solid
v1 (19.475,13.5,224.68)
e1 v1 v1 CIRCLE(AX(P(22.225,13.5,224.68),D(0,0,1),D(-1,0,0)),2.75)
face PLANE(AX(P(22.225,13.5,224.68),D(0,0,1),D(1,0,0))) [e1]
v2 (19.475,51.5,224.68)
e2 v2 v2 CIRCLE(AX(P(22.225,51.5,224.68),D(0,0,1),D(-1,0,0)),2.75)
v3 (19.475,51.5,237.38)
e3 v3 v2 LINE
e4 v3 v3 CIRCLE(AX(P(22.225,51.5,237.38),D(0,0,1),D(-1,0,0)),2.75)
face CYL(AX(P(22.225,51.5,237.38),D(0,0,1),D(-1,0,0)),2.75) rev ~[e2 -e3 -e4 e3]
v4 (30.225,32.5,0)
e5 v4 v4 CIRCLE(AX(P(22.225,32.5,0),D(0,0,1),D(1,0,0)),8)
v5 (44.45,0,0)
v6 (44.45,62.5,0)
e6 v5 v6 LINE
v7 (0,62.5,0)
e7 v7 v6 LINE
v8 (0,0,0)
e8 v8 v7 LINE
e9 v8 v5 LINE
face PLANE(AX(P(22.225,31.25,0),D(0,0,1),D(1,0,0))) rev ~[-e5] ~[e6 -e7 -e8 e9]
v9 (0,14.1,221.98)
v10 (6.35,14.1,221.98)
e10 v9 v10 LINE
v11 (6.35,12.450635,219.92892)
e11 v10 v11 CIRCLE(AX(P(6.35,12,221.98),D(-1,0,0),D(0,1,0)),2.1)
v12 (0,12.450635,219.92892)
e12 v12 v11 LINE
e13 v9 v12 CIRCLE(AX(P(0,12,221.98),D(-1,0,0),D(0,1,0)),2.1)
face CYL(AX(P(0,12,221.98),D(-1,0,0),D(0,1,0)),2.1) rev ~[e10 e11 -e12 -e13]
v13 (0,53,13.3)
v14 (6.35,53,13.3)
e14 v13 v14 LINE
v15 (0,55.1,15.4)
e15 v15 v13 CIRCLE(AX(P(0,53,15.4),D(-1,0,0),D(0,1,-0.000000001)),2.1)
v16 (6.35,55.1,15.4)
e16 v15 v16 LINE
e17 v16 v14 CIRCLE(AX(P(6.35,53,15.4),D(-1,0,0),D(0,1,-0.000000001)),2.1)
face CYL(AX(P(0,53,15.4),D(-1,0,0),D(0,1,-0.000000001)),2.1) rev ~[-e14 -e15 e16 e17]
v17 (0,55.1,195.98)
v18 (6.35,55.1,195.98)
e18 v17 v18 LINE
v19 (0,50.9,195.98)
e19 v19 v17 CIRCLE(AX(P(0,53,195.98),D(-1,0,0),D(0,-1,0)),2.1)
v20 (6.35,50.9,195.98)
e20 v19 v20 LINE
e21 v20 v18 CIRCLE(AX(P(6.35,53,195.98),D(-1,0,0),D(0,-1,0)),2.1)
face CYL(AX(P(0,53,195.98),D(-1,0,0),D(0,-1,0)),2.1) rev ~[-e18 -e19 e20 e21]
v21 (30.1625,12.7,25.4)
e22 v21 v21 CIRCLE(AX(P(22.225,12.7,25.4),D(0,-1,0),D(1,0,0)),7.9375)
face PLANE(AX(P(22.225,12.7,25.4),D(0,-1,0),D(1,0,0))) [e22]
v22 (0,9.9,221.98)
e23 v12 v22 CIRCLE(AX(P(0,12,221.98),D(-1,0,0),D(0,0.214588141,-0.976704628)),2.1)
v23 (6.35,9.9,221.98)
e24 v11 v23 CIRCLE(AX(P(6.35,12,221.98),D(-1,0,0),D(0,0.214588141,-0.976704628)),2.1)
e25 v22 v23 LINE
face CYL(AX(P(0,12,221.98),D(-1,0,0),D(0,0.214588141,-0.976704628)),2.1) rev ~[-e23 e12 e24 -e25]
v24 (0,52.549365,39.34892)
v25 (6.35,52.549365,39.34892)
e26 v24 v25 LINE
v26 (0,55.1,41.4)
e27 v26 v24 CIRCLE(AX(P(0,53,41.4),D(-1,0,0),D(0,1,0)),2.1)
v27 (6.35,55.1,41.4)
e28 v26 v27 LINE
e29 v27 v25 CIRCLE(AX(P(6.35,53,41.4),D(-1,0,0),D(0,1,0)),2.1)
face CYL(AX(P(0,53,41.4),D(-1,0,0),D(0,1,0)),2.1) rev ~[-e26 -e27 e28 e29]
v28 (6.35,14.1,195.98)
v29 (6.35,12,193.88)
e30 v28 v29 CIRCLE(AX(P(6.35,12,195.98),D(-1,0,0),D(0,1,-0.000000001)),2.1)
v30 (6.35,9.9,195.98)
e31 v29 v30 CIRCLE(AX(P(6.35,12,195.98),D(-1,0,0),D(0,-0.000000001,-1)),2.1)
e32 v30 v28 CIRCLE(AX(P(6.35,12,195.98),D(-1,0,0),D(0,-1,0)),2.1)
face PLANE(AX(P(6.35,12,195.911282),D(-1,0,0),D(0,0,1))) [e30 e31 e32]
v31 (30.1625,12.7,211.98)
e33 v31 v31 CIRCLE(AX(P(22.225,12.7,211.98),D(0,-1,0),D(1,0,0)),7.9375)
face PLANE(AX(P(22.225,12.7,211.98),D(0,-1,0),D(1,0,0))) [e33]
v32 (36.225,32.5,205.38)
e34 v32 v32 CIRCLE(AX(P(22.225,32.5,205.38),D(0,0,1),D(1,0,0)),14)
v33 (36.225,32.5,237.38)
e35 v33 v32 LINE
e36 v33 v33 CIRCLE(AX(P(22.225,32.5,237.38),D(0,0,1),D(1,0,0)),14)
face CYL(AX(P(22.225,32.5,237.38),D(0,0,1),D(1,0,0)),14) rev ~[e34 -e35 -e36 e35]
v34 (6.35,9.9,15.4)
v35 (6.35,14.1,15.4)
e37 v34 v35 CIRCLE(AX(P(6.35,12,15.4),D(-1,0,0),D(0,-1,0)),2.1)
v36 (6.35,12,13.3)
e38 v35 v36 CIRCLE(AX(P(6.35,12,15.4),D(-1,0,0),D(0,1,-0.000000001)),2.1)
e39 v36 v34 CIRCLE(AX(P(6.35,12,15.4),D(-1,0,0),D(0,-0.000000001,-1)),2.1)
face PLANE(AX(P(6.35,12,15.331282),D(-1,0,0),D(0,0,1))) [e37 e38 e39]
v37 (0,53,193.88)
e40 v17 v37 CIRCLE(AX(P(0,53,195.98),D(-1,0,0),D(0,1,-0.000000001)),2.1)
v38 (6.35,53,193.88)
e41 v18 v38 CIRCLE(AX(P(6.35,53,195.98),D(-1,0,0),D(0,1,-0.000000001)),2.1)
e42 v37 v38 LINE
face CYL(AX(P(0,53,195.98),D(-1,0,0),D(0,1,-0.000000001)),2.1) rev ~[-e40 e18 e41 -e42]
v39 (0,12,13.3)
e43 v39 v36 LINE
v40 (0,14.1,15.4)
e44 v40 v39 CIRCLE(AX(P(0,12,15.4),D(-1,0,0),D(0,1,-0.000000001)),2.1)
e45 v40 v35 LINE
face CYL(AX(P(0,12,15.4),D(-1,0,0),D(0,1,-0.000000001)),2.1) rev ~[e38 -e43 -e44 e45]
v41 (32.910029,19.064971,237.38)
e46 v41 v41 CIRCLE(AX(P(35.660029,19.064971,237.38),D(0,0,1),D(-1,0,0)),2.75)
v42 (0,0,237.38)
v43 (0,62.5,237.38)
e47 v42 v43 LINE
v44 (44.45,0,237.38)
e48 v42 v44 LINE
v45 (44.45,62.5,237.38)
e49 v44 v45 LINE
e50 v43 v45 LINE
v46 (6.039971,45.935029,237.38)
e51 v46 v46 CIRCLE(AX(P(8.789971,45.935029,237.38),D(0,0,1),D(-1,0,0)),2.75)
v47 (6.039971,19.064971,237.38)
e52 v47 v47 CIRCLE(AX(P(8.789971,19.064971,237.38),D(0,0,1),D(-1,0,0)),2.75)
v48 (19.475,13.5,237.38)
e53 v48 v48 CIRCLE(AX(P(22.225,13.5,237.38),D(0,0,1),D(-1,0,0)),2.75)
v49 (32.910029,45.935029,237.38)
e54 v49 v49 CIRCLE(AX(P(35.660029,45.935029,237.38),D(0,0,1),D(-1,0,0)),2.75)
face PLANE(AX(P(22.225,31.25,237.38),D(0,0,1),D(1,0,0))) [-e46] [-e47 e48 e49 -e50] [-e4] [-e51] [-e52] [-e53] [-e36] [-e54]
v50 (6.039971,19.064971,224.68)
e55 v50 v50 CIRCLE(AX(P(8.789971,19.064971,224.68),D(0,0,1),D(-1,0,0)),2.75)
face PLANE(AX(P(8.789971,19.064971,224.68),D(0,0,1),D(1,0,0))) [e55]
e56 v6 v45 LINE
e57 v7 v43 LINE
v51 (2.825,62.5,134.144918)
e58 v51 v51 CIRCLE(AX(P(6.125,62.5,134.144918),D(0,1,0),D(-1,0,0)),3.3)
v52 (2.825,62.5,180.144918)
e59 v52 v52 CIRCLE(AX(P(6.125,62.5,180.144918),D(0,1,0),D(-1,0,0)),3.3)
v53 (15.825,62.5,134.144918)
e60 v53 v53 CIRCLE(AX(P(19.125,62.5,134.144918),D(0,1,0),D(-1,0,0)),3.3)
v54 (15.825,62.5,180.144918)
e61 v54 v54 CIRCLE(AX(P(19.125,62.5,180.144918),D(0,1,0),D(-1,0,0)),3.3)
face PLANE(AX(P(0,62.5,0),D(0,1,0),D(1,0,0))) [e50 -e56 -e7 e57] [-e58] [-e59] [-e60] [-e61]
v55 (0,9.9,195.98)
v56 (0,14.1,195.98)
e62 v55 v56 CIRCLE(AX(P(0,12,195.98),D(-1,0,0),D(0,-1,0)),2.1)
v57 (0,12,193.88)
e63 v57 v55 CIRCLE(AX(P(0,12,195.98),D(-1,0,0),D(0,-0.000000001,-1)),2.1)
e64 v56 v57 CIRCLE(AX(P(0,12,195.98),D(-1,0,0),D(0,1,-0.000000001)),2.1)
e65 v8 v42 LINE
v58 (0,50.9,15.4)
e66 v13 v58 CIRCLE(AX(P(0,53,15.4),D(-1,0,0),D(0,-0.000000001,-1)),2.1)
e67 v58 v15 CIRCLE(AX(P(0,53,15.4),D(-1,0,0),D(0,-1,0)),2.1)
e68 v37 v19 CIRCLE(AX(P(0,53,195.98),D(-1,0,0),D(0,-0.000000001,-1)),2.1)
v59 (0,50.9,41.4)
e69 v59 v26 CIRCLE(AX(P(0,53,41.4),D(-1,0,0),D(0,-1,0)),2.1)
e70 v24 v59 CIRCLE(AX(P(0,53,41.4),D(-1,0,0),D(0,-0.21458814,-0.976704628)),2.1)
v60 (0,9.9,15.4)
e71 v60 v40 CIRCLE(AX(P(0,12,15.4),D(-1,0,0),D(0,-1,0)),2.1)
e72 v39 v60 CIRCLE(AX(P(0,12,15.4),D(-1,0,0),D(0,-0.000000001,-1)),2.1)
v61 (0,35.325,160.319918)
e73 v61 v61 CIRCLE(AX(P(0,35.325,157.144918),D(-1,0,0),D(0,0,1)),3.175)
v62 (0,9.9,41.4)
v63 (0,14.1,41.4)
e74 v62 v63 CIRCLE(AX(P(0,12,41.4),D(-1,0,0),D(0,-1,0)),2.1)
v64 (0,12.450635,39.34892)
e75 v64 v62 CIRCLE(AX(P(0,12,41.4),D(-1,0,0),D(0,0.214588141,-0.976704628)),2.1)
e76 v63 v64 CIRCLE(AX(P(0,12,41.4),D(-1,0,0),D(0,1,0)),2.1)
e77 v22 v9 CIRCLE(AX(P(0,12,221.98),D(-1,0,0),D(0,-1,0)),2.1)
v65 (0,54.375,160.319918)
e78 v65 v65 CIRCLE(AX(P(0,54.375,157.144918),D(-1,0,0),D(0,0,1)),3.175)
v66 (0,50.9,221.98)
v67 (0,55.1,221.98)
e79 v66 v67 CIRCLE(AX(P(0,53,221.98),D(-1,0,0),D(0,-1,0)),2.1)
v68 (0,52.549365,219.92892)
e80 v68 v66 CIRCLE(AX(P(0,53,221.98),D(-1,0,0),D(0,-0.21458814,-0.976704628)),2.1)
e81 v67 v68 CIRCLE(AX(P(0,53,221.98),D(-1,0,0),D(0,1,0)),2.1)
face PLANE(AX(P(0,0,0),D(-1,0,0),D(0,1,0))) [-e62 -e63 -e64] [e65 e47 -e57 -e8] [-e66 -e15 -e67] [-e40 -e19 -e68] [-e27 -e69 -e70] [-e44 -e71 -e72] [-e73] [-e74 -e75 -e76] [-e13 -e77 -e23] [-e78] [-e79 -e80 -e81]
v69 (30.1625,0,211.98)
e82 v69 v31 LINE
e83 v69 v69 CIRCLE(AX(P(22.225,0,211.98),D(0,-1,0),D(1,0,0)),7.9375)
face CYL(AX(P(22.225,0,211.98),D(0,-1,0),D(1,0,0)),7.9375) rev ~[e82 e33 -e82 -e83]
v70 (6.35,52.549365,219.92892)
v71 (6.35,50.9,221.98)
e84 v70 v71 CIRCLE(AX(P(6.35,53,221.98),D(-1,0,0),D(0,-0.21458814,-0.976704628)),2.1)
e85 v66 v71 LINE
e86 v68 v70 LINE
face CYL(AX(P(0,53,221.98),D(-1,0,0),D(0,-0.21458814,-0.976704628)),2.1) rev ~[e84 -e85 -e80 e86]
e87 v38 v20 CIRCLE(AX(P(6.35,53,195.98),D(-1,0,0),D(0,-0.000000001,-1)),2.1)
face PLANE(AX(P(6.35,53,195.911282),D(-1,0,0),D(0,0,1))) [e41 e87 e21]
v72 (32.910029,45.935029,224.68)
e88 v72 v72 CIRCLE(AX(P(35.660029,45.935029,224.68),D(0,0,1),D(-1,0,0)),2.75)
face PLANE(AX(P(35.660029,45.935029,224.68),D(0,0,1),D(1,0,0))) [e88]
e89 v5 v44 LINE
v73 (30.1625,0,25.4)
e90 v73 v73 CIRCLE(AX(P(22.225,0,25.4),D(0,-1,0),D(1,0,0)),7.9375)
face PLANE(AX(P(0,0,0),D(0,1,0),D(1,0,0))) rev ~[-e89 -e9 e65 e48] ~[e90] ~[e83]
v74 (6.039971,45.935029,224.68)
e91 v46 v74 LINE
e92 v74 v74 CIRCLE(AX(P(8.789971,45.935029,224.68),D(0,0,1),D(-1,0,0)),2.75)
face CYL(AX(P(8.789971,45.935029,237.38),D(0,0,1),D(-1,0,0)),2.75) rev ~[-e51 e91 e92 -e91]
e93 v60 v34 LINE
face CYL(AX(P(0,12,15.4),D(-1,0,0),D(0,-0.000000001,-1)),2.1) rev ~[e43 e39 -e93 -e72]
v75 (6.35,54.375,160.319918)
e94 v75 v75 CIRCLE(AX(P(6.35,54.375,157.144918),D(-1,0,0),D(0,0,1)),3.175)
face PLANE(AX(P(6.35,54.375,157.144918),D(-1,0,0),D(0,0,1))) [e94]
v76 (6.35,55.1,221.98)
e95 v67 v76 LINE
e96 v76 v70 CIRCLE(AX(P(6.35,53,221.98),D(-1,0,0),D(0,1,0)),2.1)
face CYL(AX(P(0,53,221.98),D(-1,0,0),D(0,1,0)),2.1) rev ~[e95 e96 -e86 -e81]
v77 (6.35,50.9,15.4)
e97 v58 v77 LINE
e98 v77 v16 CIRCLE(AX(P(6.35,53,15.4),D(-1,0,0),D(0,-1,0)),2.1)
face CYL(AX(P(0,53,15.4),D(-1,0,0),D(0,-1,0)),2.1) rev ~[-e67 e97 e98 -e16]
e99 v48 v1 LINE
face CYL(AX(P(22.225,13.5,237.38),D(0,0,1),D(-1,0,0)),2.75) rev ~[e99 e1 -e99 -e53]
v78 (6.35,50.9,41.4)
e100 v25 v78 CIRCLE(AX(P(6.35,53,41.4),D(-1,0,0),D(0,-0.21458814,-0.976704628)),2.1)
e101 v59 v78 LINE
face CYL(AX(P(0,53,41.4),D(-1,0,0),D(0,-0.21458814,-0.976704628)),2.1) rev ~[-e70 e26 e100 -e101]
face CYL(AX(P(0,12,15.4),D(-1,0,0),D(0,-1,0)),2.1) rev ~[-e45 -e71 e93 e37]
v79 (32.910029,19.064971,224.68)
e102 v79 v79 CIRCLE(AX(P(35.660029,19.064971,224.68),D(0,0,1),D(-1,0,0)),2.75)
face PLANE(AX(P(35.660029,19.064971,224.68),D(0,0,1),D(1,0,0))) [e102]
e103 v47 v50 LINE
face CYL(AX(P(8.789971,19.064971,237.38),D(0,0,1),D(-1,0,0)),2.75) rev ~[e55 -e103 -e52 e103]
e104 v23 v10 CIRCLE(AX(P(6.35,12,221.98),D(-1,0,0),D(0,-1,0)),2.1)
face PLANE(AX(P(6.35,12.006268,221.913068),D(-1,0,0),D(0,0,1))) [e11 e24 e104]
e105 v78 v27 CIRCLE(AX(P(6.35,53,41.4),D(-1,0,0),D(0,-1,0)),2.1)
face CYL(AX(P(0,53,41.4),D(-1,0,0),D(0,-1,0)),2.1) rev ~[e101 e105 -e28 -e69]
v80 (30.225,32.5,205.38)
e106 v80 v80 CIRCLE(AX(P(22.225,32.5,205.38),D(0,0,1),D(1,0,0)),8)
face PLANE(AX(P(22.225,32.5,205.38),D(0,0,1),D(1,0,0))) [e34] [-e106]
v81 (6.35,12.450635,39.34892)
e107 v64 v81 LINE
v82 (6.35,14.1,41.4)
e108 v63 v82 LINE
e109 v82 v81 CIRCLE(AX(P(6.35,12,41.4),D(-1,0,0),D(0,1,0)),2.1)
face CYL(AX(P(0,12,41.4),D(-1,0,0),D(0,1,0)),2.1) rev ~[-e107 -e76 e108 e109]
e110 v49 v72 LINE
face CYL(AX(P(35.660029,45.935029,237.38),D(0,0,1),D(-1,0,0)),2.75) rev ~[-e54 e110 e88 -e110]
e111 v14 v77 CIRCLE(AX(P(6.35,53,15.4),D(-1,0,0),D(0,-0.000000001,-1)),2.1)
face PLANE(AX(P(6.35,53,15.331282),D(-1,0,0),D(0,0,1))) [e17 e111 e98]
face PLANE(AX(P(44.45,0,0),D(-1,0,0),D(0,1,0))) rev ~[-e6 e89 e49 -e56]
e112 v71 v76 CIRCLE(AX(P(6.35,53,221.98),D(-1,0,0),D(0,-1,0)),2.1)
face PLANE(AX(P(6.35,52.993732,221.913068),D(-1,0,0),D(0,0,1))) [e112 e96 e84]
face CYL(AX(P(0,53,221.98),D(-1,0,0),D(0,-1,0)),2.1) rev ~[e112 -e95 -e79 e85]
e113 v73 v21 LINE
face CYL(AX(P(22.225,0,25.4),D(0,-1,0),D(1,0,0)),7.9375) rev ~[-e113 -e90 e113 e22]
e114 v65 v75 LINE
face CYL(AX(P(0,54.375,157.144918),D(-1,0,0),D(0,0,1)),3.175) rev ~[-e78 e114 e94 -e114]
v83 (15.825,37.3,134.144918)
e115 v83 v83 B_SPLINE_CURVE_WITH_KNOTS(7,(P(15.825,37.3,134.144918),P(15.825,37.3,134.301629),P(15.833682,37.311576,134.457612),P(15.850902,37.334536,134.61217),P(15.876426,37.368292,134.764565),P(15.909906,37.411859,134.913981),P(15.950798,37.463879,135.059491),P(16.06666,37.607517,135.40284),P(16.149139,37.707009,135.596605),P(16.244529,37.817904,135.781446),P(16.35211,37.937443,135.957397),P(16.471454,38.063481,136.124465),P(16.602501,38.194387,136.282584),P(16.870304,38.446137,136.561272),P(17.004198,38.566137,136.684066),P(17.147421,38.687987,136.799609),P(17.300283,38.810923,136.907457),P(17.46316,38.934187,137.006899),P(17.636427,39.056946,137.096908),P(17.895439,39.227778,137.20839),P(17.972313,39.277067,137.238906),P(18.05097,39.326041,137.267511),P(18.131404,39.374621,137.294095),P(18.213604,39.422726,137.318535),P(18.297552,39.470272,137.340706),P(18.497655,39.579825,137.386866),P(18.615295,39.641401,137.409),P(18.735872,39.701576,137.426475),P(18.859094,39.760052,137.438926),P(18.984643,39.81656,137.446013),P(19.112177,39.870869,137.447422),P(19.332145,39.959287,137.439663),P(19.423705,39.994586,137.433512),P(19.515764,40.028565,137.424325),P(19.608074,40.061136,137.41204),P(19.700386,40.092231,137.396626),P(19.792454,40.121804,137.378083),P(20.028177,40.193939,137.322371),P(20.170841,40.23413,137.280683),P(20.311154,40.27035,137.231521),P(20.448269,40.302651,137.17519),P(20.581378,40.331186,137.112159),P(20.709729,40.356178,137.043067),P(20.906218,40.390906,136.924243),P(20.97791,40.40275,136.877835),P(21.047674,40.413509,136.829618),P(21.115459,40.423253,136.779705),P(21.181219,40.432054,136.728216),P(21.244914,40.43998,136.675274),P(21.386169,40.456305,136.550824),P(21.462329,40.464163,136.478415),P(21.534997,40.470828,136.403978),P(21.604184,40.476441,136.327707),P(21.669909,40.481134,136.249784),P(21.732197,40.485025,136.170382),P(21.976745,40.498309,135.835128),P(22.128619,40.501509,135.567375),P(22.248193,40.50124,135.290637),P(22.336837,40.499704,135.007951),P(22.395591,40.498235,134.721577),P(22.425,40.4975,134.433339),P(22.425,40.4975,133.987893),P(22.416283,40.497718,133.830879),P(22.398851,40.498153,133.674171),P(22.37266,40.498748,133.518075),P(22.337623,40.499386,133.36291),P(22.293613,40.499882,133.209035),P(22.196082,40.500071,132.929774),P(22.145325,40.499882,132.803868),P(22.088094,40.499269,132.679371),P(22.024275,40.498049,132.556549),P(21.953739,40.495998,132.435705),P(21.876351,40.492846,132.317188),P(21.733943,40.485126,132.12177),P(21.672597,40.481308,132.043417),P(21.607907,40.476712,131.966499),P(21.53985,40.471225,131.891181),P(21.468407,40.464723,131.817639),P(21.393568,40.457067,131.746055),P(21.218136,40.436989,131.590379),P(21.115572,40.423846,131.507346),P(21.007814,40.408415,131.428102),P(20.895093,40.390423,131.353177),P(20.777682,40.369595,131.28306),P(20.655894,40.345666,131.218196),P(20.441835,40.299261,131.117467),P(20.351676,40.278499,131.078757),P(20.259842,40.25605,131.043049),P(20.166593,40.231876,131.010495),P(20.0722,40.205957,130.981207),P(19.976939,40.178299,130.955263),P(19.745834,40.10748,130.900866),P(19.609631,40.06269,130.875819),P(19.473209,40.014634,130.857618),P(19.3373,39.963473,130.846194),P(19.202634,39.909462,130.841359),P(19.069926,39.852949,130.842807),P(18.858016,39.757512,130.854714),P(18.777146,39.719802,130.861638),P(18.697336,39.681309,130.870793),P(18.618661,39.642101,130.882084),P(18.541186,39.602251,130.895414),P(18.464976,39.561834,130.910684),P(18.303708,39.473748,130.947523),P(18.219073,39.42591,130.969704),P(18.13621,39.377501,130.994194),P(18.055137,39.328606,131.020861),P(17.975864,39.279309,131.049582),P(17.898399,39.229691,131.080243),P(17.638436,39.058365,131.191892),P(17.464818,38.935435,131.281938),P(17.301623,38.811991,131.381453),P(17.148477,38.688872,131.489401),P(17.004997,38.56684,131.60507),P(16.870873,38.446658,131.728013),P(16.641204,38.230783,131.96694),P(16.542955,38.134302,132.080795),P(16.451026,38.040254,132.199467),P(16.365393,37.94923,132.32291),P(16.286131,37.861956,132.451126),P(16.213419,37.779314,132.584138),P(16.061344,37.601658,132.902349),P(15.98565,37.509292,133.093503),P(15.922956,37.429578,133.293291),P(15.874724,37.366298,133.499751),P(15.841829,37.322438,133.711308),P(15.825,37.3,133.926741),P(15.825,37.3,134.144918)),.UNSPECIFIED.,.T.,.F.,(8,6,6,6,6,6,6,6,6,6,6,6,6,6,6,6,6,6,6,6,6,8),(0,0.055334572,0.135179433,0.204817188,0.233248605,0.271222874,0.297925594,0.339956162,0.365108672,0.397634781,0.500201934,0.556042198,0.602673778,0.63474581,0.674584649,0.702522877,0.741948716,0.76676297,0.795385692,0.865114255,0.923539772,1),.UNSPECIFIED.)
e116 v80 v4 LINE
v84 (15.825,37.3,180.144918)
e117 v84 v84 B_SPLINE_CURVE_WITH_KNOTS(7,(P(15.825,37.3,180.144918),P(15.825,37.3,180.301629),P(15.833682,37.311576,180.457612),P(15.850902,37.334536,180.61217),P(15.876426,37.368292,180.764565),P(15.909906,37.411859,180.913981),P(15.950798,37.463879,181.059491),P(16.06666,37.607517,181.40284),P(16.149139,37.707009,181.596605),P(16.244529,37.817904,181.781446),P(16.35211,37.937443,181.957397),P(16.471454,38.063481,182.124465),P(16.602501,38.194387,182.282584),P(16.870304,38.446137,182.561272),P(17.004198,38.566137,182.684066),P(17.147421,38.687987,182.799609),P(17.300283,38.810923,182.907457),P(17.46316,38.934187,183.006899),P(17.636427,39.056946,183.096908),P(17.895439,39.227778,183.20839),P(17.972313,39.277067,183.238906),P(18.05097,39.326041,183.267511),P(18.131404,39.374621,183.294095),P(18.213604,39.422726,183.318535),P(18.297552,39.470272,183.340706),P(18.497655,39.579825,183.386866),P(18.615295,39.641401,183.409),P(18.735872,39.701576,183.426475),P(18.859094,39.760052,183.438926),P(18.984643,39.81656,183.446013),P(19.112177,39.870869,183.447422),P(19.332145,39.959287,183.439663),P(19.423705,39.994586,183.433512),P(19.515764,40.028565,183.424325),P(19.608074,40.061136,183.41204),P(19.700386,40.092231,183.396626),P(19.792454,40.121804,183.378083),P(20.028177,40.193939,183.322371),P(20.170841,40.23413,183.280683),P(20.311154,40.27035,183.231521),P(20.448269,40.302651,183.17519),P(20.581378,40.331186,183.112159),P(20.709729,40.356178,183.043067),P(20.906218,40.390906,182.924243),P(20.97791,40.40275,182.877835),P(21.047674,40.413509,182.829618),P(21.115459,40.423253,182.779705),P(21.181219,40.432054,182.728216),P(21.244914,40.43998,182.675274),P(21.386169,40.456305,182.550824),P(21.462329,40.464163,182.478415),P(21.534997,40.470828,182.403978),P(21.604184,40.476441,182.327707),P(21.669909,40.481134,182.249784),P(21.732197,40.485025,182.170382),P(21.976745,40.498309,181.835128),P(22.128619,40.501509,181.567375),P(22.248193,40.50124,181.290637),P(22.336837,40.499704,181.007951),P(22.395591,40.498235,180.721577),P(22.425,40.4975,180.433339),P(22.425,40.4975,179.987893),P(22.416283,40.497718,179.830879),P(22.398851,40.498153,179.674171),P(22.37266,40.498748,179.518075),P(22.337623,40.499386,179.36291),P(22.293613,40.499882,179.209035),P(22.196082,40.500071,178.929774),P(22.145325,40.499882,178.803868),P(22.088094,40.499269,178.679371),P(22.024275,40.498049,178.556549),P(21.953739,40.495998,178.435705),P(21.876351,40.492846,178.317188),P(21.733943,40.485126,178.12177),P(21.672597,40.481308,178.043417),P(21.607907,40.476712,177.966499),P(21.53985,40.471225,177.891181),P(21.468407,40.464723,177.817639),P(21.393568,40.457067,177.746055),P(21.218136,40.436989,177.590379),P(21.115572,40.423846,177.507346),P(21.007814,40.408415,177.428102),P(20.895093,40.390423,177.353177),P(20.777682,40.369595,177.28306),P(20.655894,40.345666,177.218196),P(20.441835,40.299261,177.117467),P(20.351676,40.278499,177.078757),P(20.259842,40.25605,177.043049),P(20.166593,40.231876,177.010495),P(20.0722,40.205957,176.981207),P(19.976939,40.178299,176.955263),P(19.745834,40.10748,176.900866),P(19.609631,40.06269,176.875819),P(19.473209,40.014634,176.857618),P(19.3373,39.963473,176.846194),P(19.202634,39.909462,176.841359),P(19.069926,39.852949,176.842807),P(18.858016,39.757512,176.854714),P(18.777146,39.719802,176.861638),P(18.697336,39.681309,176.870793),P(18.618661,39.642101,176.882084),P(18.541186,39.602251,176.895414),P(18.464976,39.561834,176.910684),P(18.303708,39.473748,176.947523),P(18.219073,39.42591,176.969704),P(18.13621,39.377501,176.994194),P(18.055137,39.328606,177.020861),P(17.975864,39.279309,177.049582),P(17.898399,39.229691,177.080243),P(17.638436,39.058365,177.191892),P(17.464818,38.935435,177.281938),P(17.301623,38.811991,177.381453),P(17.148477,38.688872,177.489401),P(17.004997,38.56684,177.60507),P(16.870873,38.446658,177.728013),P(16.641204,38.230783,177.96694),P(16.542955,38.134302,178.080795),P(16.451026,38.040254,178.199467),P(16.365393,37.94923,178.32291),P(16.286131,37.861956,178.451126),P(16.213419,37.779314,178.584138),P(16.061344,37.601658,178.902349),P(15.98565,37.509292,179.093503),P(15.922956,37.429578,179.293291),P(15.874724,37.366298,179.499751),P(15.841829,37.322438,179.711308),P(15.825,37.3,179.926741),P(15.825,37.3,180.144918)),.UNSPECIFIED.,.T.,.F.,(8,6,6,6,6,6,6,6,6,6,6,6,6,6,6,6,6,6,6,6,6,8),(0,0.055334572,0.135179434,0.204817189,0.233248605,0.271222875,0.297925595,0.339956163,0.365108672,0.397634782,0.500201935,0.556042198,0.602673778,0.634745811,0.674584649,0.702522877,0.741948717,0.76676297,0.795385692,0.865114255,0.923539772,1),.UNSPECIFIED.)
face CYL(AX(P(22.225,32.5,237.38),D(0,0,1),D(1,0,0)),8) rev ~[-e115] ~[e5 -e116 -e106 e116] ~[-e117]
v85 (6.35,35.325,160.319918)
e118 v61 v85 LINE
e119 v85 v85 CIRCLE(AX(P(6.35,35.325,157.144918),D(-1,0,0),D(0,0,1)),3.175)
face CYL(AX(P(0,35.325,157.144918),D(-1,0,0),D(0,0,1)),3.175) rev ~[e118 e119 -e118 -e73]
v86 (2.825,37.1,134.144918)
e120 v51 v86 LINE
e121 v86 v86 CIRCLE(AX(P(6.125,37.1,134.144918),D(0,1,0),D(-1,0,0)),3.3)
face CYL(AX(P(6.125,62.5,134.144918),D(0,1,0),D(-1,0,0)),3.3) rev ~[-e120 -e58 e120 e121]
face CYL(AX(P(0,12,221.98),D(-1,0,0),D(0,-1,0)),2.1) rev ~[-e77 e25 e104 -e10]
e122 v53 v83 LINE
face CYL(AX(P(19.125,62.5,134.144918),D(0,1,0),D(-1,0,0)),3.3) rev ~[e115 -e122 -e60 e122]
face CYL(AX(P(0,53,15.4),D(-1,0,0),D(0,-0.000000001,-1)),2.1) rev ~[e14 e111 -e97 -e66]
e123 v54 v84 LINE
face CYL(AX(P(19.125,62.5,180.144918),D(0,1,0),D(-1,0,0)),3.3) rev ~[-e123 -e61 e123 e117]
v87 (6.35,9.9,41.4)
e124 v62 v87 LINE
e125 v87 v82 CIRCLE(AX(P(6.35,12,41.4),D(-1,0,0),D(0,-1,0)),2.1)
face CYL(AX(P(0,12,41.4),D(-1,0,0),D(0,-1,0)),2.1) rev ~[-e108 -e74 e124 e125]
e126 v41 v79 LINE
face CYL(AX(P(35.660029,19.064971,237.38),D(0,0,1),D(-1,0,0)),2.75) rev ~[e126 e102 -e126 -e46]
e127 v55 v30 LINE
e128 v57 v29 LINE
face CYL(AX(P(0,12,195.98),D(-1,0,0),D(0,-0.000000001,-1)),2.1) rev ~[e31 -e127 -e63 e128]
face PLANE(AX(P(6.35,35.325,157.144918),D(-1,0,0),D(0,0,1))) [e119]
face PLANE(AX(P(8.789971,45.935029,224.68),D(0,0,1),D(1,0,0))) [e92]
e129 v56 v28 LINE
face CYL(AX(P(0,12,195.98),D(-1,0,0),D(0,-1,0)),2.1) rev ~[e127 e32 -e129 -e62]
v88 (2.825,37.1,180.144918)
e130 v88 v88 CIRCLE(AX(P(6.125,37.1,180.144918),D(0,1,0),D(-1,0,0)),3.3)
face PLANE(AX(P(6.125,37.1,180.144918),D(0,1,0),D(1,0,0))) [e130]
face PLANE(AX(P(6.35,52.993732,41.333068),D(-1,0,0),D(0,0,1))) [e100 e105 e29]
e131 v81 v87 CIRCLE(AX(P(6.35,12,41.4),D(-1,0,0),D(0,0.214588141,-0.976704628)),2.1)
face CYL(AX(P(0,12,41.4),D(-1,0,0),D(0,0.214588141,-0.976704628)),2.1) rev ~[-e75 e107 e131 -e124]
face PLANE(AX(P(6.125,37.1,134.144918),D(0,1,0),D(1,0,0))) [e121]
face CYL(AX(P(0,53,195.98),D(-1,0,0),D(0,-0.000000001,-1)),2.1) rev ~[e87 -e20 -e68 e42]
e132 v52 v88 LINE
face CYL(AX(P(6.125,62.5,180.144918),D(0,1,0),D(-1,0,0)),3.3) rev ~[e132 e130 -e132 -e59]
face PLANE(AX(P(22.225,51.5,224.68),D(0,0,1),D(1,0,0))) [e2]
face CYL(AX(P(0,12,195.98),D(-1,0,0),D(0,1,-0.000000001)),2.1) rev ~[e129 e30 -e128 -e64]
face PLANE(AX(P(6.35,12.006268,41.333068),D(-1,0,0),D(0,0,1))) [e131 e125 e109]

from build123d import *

# Parameters (mm, degrees)
SKETCH1_W           = 44.45
SKETCH1_H           = 62.5
BOSS_EXTRUDE1_DEPTH = 237.38
CUT_EXTRUDE1_DEPTH  = 250.46205503
CUT_EXTRUDE2_DEPTH  = 32
SKETCH2_5_R         = 2.75
CUT_EXTRUDE3_DEPTH  = 12.7
SKETCH4_R           = 3.175
CUT_EXTRUDE4_DEPTH  = 6.35
CUT_EXTRUDE5_DEPTH  = 25.4
SKETCH6_R           = 7.9375
CUT_EXTRUDE6_DEPTH  = 12.7


with BuildPart() as part:
    # Sketch1 → Boss-Extrude1 (new body)
    with BuildSketch(Plane.XY):
        with Locations((22.225, 31.25)):
            Rectangle(SKETCH1_W, SKETCH1_H)
    extrude(amount=BOSS_EXTRUDE1_DEPTH)

    # Sketch2 → Cut-Extrude1 (cut, through all)
    with BuildSketch(Plane.XY.offset(237.38)):
        with BuildLine():
            ThreePointArc((30.225, 32.5), (22.225, 40.5), (14.225, 32.5))
            ThreePointArc((14.225, 32.5), (22.225, 24.5), (30.225, 32.5))
        make_face()
    extrude(amount=-CUT_EXTRUDE1_DEPTH, mode=Mode.SUBTRACT)

    # Sketch2<4> → Cut-Extrude2 (cut)
    with BuildSketch(Plane.XY.offset(237.38)):
        with BuildLine():
            ThreePointArc((36.225, 32.5), (22.225, 46.5), (8.225, 32.5))
            ThreePointArc((8.225, 32.5), (22.225, 18.5), (36.225, 32.5))
        make_face()
        with BuildLine():
            ThreePointArc((30.225, 32.5), (22.225, 24.5), (14.225, 32.5))
            ThreePointArc((14.225, 32.5), (22.225, 40.5), (30.225, 32.5))
        make_face(mode=Mode.SUBTRACT)
    extrude(amount=-CUT_EXTRUDE2_DEPTH, mode=Mode.SUBTRACT)

    # Sketch2<5> → Cut-Extrude3 (cut)
    with BuildSketch(Plane.XY.offset(237.38)):
        with Locations((35.660028843, 45.935028843)):
            Circle(SKETCH2_5_R)
        with Locations((35.660028843, 19.064971157)):
            Circle(SKETCH2_5_R)
        with Locations((22.225, 13.5)):
            Circle(SKETCH2_5_R)
        with Locations((8.789971157, 19.064971157)):
            Circle(SKETCH2_5_R)
        with Locations((8.789971157, 45.935028843)):
            Circle(SKETCH2_5_R)
        with Locations((22.225, 51.5)):
            Circle(SKETCH2_5_R)
    extrude(amount=-CUT_EXTRUDE3_DEPTH, mode=Mode.SUBTRACT)

    # Sketch4 → Cut-Extrude4 (cut)
    with BuildSketch(Plane.ZY):
        with Locations((157.144917681, 35.325)):
            Circle(SKETCH4_R)
        with Locations((157.144917681, 54.375)):
            Circle(SKETCH4_R)
        with BuildLine():
            ThreePointArc((41.4, 55.1), (39.763489429, 54.315991319), (39.348920282, 52.549364905))
            ThreePointArc((39.348920282, 52.549364905), (40.084008681, 51.363489429), (41.4, 50.9))
            ThreePointArc((41.4, 50.9), (43.5, 53), (41.4, 55.1))
        make_face()
        with BuildLine():
            ThreePointArc((13.3, 53), (13.91507576, 51.51507576), (15.4, 50.9))
            ThreePointArc((15.4, 50.9), (17.5, 53), (15.4, 55.1))
            ThreePointArc((15.4, 55.1), (13.91507576, 54.48492424), (13.3, 53))
        make_face()
        with BuildLine():
            ThreePointArc((221.98, 50.9), (224.08, 53), (221.98, 55.1))
            ThreePointArc((221.98, 55.1), (220.343489429, 54.315991319), (219.928920282, 52.549364905))
            ThreePointArc((219.928920282, 52.549364905), (220.664008681, 51.363489429), (221.98, 50.9))
        make_face()
        with BuildLine():
            ThreePointArc((193.88, 53), (194.49507576, 51.51507576), (195.98, 50.9))
            ThreePointArc((195.98, 50.9), (198.08, 53), (195.98, 55.1))
            ThreePointArc((195.98, 55.1), (194.49507576, 54.48492424), (193.88, 53))
        make_face()
        with BuildLine():
            ThreePointArc((219.928920282, 12.450635095), (220.343489429, 10.684008681), (221.98, 9.9))
            ThreePointArc((221.98, 9.9), (224.08, 12), (221.98, 14.1))
            ThreePointArc((221.98, 14.1), (220.664008681, 13.636510571), (219.928920282, 12.450635095))
        make_face()
        with BuildLine():
            ThreePointArc((193.88, 12), (194.49507576, 10.51507576), (195.98, 9.9))
            ThreePointArc((195.98, 9.9), (198.08, 12), (195.98, 14.1))
            ThreePointArc((195.98, 14.1), (194.49507576, 13.48492424), (193.88, 12))
        make_face()
        with BuildLine():
            ThreePointArc((13.3, 12), (13.91507576, 10.51507576), (15.4, 9.9))
            ThreePointArc((15.4, 9.9), (17.5, 12), (15.4, 14.1))
            ThreePointArc((15.4, 14.1), (13.91507576, 13.48492424), (13.3, 12))
        make_face()
        with BuildLine():
            ThreePointArc((39.348920282, 12.450635095), (39.763489429, 10.684008681), (41.4, 9.9))
            ThreePointArc((41.4, 9.9), (43.5, 12), (41.4, 14.1))
            ThreePointArc((41.4, 14.1), (40.084008681, 13.636510571), (39.348920282, 12.450635095))
        make_face()
    extrude(amount=-CUT_EXTRUDE4_DEPTH, mode=Mode.SUBTRACT)

    # Sketch5 → Cut-Extrude5 (cut)
    with BuildSketch(Plane(origin=(0, 62.5, 0), x_dir=(1, 0, 0), z_dir=(0, 1, 0))):
        with BuildLine():
            ThreePointArc((9.425, -134.144917681), (6.125, -130.844917681), (2.825, -134.144917681))
            ThreePointArc((2.825, -134.144917681), (6.125, -137.444917681), (9.425, -134.144917681))
        make_face()
        with BuildLine():
            ThreePointArc((22.425, -134.144917681), (19.125, -130.844917681), (15.825, -134.144917681))
            ThreePointArc((15.825, -134.144917681), (19.125, -137.444917681), (22.425, -134.144917681))
        make_face()
        with BuildLine():
            ThreePointArc((9.425, -180.144917681), (6.125, -176.844917681), (2.825, -180.144917681))
            ThreePointArc((2.825, -180.144917681), (6.125, -183.444917681), (9.425, -180.144917681))
        make_face()
        with BuildLine():
            ThreePointArc((22.425, -180.144917681), (19.125, -176.844917681), (15.825, -180.144917681))
            ThreePointArc((15.825, -180.144917681), (19.125, -183.444917681), (22.425, -180.144917681))
        make_face()
    extrude(amount=-CUT_EXTRUDE5_DEPTH, mode=Mode.SUBTRACT)

    # Sketch6 → Cut-Extrude6 (cut)
    with BuildSketch(Plane.XZ):
        with Locations((22.225, 211.98)):
            Circle(SKETCH6_R)
        with Locations((22.225, 25.4)):
            Circle(SKETCH6_R)
    extrude(amount=-CUT_EXTRUDE6_DEPTH, mode=Mode.SUBTRACT)


solid = part.part
